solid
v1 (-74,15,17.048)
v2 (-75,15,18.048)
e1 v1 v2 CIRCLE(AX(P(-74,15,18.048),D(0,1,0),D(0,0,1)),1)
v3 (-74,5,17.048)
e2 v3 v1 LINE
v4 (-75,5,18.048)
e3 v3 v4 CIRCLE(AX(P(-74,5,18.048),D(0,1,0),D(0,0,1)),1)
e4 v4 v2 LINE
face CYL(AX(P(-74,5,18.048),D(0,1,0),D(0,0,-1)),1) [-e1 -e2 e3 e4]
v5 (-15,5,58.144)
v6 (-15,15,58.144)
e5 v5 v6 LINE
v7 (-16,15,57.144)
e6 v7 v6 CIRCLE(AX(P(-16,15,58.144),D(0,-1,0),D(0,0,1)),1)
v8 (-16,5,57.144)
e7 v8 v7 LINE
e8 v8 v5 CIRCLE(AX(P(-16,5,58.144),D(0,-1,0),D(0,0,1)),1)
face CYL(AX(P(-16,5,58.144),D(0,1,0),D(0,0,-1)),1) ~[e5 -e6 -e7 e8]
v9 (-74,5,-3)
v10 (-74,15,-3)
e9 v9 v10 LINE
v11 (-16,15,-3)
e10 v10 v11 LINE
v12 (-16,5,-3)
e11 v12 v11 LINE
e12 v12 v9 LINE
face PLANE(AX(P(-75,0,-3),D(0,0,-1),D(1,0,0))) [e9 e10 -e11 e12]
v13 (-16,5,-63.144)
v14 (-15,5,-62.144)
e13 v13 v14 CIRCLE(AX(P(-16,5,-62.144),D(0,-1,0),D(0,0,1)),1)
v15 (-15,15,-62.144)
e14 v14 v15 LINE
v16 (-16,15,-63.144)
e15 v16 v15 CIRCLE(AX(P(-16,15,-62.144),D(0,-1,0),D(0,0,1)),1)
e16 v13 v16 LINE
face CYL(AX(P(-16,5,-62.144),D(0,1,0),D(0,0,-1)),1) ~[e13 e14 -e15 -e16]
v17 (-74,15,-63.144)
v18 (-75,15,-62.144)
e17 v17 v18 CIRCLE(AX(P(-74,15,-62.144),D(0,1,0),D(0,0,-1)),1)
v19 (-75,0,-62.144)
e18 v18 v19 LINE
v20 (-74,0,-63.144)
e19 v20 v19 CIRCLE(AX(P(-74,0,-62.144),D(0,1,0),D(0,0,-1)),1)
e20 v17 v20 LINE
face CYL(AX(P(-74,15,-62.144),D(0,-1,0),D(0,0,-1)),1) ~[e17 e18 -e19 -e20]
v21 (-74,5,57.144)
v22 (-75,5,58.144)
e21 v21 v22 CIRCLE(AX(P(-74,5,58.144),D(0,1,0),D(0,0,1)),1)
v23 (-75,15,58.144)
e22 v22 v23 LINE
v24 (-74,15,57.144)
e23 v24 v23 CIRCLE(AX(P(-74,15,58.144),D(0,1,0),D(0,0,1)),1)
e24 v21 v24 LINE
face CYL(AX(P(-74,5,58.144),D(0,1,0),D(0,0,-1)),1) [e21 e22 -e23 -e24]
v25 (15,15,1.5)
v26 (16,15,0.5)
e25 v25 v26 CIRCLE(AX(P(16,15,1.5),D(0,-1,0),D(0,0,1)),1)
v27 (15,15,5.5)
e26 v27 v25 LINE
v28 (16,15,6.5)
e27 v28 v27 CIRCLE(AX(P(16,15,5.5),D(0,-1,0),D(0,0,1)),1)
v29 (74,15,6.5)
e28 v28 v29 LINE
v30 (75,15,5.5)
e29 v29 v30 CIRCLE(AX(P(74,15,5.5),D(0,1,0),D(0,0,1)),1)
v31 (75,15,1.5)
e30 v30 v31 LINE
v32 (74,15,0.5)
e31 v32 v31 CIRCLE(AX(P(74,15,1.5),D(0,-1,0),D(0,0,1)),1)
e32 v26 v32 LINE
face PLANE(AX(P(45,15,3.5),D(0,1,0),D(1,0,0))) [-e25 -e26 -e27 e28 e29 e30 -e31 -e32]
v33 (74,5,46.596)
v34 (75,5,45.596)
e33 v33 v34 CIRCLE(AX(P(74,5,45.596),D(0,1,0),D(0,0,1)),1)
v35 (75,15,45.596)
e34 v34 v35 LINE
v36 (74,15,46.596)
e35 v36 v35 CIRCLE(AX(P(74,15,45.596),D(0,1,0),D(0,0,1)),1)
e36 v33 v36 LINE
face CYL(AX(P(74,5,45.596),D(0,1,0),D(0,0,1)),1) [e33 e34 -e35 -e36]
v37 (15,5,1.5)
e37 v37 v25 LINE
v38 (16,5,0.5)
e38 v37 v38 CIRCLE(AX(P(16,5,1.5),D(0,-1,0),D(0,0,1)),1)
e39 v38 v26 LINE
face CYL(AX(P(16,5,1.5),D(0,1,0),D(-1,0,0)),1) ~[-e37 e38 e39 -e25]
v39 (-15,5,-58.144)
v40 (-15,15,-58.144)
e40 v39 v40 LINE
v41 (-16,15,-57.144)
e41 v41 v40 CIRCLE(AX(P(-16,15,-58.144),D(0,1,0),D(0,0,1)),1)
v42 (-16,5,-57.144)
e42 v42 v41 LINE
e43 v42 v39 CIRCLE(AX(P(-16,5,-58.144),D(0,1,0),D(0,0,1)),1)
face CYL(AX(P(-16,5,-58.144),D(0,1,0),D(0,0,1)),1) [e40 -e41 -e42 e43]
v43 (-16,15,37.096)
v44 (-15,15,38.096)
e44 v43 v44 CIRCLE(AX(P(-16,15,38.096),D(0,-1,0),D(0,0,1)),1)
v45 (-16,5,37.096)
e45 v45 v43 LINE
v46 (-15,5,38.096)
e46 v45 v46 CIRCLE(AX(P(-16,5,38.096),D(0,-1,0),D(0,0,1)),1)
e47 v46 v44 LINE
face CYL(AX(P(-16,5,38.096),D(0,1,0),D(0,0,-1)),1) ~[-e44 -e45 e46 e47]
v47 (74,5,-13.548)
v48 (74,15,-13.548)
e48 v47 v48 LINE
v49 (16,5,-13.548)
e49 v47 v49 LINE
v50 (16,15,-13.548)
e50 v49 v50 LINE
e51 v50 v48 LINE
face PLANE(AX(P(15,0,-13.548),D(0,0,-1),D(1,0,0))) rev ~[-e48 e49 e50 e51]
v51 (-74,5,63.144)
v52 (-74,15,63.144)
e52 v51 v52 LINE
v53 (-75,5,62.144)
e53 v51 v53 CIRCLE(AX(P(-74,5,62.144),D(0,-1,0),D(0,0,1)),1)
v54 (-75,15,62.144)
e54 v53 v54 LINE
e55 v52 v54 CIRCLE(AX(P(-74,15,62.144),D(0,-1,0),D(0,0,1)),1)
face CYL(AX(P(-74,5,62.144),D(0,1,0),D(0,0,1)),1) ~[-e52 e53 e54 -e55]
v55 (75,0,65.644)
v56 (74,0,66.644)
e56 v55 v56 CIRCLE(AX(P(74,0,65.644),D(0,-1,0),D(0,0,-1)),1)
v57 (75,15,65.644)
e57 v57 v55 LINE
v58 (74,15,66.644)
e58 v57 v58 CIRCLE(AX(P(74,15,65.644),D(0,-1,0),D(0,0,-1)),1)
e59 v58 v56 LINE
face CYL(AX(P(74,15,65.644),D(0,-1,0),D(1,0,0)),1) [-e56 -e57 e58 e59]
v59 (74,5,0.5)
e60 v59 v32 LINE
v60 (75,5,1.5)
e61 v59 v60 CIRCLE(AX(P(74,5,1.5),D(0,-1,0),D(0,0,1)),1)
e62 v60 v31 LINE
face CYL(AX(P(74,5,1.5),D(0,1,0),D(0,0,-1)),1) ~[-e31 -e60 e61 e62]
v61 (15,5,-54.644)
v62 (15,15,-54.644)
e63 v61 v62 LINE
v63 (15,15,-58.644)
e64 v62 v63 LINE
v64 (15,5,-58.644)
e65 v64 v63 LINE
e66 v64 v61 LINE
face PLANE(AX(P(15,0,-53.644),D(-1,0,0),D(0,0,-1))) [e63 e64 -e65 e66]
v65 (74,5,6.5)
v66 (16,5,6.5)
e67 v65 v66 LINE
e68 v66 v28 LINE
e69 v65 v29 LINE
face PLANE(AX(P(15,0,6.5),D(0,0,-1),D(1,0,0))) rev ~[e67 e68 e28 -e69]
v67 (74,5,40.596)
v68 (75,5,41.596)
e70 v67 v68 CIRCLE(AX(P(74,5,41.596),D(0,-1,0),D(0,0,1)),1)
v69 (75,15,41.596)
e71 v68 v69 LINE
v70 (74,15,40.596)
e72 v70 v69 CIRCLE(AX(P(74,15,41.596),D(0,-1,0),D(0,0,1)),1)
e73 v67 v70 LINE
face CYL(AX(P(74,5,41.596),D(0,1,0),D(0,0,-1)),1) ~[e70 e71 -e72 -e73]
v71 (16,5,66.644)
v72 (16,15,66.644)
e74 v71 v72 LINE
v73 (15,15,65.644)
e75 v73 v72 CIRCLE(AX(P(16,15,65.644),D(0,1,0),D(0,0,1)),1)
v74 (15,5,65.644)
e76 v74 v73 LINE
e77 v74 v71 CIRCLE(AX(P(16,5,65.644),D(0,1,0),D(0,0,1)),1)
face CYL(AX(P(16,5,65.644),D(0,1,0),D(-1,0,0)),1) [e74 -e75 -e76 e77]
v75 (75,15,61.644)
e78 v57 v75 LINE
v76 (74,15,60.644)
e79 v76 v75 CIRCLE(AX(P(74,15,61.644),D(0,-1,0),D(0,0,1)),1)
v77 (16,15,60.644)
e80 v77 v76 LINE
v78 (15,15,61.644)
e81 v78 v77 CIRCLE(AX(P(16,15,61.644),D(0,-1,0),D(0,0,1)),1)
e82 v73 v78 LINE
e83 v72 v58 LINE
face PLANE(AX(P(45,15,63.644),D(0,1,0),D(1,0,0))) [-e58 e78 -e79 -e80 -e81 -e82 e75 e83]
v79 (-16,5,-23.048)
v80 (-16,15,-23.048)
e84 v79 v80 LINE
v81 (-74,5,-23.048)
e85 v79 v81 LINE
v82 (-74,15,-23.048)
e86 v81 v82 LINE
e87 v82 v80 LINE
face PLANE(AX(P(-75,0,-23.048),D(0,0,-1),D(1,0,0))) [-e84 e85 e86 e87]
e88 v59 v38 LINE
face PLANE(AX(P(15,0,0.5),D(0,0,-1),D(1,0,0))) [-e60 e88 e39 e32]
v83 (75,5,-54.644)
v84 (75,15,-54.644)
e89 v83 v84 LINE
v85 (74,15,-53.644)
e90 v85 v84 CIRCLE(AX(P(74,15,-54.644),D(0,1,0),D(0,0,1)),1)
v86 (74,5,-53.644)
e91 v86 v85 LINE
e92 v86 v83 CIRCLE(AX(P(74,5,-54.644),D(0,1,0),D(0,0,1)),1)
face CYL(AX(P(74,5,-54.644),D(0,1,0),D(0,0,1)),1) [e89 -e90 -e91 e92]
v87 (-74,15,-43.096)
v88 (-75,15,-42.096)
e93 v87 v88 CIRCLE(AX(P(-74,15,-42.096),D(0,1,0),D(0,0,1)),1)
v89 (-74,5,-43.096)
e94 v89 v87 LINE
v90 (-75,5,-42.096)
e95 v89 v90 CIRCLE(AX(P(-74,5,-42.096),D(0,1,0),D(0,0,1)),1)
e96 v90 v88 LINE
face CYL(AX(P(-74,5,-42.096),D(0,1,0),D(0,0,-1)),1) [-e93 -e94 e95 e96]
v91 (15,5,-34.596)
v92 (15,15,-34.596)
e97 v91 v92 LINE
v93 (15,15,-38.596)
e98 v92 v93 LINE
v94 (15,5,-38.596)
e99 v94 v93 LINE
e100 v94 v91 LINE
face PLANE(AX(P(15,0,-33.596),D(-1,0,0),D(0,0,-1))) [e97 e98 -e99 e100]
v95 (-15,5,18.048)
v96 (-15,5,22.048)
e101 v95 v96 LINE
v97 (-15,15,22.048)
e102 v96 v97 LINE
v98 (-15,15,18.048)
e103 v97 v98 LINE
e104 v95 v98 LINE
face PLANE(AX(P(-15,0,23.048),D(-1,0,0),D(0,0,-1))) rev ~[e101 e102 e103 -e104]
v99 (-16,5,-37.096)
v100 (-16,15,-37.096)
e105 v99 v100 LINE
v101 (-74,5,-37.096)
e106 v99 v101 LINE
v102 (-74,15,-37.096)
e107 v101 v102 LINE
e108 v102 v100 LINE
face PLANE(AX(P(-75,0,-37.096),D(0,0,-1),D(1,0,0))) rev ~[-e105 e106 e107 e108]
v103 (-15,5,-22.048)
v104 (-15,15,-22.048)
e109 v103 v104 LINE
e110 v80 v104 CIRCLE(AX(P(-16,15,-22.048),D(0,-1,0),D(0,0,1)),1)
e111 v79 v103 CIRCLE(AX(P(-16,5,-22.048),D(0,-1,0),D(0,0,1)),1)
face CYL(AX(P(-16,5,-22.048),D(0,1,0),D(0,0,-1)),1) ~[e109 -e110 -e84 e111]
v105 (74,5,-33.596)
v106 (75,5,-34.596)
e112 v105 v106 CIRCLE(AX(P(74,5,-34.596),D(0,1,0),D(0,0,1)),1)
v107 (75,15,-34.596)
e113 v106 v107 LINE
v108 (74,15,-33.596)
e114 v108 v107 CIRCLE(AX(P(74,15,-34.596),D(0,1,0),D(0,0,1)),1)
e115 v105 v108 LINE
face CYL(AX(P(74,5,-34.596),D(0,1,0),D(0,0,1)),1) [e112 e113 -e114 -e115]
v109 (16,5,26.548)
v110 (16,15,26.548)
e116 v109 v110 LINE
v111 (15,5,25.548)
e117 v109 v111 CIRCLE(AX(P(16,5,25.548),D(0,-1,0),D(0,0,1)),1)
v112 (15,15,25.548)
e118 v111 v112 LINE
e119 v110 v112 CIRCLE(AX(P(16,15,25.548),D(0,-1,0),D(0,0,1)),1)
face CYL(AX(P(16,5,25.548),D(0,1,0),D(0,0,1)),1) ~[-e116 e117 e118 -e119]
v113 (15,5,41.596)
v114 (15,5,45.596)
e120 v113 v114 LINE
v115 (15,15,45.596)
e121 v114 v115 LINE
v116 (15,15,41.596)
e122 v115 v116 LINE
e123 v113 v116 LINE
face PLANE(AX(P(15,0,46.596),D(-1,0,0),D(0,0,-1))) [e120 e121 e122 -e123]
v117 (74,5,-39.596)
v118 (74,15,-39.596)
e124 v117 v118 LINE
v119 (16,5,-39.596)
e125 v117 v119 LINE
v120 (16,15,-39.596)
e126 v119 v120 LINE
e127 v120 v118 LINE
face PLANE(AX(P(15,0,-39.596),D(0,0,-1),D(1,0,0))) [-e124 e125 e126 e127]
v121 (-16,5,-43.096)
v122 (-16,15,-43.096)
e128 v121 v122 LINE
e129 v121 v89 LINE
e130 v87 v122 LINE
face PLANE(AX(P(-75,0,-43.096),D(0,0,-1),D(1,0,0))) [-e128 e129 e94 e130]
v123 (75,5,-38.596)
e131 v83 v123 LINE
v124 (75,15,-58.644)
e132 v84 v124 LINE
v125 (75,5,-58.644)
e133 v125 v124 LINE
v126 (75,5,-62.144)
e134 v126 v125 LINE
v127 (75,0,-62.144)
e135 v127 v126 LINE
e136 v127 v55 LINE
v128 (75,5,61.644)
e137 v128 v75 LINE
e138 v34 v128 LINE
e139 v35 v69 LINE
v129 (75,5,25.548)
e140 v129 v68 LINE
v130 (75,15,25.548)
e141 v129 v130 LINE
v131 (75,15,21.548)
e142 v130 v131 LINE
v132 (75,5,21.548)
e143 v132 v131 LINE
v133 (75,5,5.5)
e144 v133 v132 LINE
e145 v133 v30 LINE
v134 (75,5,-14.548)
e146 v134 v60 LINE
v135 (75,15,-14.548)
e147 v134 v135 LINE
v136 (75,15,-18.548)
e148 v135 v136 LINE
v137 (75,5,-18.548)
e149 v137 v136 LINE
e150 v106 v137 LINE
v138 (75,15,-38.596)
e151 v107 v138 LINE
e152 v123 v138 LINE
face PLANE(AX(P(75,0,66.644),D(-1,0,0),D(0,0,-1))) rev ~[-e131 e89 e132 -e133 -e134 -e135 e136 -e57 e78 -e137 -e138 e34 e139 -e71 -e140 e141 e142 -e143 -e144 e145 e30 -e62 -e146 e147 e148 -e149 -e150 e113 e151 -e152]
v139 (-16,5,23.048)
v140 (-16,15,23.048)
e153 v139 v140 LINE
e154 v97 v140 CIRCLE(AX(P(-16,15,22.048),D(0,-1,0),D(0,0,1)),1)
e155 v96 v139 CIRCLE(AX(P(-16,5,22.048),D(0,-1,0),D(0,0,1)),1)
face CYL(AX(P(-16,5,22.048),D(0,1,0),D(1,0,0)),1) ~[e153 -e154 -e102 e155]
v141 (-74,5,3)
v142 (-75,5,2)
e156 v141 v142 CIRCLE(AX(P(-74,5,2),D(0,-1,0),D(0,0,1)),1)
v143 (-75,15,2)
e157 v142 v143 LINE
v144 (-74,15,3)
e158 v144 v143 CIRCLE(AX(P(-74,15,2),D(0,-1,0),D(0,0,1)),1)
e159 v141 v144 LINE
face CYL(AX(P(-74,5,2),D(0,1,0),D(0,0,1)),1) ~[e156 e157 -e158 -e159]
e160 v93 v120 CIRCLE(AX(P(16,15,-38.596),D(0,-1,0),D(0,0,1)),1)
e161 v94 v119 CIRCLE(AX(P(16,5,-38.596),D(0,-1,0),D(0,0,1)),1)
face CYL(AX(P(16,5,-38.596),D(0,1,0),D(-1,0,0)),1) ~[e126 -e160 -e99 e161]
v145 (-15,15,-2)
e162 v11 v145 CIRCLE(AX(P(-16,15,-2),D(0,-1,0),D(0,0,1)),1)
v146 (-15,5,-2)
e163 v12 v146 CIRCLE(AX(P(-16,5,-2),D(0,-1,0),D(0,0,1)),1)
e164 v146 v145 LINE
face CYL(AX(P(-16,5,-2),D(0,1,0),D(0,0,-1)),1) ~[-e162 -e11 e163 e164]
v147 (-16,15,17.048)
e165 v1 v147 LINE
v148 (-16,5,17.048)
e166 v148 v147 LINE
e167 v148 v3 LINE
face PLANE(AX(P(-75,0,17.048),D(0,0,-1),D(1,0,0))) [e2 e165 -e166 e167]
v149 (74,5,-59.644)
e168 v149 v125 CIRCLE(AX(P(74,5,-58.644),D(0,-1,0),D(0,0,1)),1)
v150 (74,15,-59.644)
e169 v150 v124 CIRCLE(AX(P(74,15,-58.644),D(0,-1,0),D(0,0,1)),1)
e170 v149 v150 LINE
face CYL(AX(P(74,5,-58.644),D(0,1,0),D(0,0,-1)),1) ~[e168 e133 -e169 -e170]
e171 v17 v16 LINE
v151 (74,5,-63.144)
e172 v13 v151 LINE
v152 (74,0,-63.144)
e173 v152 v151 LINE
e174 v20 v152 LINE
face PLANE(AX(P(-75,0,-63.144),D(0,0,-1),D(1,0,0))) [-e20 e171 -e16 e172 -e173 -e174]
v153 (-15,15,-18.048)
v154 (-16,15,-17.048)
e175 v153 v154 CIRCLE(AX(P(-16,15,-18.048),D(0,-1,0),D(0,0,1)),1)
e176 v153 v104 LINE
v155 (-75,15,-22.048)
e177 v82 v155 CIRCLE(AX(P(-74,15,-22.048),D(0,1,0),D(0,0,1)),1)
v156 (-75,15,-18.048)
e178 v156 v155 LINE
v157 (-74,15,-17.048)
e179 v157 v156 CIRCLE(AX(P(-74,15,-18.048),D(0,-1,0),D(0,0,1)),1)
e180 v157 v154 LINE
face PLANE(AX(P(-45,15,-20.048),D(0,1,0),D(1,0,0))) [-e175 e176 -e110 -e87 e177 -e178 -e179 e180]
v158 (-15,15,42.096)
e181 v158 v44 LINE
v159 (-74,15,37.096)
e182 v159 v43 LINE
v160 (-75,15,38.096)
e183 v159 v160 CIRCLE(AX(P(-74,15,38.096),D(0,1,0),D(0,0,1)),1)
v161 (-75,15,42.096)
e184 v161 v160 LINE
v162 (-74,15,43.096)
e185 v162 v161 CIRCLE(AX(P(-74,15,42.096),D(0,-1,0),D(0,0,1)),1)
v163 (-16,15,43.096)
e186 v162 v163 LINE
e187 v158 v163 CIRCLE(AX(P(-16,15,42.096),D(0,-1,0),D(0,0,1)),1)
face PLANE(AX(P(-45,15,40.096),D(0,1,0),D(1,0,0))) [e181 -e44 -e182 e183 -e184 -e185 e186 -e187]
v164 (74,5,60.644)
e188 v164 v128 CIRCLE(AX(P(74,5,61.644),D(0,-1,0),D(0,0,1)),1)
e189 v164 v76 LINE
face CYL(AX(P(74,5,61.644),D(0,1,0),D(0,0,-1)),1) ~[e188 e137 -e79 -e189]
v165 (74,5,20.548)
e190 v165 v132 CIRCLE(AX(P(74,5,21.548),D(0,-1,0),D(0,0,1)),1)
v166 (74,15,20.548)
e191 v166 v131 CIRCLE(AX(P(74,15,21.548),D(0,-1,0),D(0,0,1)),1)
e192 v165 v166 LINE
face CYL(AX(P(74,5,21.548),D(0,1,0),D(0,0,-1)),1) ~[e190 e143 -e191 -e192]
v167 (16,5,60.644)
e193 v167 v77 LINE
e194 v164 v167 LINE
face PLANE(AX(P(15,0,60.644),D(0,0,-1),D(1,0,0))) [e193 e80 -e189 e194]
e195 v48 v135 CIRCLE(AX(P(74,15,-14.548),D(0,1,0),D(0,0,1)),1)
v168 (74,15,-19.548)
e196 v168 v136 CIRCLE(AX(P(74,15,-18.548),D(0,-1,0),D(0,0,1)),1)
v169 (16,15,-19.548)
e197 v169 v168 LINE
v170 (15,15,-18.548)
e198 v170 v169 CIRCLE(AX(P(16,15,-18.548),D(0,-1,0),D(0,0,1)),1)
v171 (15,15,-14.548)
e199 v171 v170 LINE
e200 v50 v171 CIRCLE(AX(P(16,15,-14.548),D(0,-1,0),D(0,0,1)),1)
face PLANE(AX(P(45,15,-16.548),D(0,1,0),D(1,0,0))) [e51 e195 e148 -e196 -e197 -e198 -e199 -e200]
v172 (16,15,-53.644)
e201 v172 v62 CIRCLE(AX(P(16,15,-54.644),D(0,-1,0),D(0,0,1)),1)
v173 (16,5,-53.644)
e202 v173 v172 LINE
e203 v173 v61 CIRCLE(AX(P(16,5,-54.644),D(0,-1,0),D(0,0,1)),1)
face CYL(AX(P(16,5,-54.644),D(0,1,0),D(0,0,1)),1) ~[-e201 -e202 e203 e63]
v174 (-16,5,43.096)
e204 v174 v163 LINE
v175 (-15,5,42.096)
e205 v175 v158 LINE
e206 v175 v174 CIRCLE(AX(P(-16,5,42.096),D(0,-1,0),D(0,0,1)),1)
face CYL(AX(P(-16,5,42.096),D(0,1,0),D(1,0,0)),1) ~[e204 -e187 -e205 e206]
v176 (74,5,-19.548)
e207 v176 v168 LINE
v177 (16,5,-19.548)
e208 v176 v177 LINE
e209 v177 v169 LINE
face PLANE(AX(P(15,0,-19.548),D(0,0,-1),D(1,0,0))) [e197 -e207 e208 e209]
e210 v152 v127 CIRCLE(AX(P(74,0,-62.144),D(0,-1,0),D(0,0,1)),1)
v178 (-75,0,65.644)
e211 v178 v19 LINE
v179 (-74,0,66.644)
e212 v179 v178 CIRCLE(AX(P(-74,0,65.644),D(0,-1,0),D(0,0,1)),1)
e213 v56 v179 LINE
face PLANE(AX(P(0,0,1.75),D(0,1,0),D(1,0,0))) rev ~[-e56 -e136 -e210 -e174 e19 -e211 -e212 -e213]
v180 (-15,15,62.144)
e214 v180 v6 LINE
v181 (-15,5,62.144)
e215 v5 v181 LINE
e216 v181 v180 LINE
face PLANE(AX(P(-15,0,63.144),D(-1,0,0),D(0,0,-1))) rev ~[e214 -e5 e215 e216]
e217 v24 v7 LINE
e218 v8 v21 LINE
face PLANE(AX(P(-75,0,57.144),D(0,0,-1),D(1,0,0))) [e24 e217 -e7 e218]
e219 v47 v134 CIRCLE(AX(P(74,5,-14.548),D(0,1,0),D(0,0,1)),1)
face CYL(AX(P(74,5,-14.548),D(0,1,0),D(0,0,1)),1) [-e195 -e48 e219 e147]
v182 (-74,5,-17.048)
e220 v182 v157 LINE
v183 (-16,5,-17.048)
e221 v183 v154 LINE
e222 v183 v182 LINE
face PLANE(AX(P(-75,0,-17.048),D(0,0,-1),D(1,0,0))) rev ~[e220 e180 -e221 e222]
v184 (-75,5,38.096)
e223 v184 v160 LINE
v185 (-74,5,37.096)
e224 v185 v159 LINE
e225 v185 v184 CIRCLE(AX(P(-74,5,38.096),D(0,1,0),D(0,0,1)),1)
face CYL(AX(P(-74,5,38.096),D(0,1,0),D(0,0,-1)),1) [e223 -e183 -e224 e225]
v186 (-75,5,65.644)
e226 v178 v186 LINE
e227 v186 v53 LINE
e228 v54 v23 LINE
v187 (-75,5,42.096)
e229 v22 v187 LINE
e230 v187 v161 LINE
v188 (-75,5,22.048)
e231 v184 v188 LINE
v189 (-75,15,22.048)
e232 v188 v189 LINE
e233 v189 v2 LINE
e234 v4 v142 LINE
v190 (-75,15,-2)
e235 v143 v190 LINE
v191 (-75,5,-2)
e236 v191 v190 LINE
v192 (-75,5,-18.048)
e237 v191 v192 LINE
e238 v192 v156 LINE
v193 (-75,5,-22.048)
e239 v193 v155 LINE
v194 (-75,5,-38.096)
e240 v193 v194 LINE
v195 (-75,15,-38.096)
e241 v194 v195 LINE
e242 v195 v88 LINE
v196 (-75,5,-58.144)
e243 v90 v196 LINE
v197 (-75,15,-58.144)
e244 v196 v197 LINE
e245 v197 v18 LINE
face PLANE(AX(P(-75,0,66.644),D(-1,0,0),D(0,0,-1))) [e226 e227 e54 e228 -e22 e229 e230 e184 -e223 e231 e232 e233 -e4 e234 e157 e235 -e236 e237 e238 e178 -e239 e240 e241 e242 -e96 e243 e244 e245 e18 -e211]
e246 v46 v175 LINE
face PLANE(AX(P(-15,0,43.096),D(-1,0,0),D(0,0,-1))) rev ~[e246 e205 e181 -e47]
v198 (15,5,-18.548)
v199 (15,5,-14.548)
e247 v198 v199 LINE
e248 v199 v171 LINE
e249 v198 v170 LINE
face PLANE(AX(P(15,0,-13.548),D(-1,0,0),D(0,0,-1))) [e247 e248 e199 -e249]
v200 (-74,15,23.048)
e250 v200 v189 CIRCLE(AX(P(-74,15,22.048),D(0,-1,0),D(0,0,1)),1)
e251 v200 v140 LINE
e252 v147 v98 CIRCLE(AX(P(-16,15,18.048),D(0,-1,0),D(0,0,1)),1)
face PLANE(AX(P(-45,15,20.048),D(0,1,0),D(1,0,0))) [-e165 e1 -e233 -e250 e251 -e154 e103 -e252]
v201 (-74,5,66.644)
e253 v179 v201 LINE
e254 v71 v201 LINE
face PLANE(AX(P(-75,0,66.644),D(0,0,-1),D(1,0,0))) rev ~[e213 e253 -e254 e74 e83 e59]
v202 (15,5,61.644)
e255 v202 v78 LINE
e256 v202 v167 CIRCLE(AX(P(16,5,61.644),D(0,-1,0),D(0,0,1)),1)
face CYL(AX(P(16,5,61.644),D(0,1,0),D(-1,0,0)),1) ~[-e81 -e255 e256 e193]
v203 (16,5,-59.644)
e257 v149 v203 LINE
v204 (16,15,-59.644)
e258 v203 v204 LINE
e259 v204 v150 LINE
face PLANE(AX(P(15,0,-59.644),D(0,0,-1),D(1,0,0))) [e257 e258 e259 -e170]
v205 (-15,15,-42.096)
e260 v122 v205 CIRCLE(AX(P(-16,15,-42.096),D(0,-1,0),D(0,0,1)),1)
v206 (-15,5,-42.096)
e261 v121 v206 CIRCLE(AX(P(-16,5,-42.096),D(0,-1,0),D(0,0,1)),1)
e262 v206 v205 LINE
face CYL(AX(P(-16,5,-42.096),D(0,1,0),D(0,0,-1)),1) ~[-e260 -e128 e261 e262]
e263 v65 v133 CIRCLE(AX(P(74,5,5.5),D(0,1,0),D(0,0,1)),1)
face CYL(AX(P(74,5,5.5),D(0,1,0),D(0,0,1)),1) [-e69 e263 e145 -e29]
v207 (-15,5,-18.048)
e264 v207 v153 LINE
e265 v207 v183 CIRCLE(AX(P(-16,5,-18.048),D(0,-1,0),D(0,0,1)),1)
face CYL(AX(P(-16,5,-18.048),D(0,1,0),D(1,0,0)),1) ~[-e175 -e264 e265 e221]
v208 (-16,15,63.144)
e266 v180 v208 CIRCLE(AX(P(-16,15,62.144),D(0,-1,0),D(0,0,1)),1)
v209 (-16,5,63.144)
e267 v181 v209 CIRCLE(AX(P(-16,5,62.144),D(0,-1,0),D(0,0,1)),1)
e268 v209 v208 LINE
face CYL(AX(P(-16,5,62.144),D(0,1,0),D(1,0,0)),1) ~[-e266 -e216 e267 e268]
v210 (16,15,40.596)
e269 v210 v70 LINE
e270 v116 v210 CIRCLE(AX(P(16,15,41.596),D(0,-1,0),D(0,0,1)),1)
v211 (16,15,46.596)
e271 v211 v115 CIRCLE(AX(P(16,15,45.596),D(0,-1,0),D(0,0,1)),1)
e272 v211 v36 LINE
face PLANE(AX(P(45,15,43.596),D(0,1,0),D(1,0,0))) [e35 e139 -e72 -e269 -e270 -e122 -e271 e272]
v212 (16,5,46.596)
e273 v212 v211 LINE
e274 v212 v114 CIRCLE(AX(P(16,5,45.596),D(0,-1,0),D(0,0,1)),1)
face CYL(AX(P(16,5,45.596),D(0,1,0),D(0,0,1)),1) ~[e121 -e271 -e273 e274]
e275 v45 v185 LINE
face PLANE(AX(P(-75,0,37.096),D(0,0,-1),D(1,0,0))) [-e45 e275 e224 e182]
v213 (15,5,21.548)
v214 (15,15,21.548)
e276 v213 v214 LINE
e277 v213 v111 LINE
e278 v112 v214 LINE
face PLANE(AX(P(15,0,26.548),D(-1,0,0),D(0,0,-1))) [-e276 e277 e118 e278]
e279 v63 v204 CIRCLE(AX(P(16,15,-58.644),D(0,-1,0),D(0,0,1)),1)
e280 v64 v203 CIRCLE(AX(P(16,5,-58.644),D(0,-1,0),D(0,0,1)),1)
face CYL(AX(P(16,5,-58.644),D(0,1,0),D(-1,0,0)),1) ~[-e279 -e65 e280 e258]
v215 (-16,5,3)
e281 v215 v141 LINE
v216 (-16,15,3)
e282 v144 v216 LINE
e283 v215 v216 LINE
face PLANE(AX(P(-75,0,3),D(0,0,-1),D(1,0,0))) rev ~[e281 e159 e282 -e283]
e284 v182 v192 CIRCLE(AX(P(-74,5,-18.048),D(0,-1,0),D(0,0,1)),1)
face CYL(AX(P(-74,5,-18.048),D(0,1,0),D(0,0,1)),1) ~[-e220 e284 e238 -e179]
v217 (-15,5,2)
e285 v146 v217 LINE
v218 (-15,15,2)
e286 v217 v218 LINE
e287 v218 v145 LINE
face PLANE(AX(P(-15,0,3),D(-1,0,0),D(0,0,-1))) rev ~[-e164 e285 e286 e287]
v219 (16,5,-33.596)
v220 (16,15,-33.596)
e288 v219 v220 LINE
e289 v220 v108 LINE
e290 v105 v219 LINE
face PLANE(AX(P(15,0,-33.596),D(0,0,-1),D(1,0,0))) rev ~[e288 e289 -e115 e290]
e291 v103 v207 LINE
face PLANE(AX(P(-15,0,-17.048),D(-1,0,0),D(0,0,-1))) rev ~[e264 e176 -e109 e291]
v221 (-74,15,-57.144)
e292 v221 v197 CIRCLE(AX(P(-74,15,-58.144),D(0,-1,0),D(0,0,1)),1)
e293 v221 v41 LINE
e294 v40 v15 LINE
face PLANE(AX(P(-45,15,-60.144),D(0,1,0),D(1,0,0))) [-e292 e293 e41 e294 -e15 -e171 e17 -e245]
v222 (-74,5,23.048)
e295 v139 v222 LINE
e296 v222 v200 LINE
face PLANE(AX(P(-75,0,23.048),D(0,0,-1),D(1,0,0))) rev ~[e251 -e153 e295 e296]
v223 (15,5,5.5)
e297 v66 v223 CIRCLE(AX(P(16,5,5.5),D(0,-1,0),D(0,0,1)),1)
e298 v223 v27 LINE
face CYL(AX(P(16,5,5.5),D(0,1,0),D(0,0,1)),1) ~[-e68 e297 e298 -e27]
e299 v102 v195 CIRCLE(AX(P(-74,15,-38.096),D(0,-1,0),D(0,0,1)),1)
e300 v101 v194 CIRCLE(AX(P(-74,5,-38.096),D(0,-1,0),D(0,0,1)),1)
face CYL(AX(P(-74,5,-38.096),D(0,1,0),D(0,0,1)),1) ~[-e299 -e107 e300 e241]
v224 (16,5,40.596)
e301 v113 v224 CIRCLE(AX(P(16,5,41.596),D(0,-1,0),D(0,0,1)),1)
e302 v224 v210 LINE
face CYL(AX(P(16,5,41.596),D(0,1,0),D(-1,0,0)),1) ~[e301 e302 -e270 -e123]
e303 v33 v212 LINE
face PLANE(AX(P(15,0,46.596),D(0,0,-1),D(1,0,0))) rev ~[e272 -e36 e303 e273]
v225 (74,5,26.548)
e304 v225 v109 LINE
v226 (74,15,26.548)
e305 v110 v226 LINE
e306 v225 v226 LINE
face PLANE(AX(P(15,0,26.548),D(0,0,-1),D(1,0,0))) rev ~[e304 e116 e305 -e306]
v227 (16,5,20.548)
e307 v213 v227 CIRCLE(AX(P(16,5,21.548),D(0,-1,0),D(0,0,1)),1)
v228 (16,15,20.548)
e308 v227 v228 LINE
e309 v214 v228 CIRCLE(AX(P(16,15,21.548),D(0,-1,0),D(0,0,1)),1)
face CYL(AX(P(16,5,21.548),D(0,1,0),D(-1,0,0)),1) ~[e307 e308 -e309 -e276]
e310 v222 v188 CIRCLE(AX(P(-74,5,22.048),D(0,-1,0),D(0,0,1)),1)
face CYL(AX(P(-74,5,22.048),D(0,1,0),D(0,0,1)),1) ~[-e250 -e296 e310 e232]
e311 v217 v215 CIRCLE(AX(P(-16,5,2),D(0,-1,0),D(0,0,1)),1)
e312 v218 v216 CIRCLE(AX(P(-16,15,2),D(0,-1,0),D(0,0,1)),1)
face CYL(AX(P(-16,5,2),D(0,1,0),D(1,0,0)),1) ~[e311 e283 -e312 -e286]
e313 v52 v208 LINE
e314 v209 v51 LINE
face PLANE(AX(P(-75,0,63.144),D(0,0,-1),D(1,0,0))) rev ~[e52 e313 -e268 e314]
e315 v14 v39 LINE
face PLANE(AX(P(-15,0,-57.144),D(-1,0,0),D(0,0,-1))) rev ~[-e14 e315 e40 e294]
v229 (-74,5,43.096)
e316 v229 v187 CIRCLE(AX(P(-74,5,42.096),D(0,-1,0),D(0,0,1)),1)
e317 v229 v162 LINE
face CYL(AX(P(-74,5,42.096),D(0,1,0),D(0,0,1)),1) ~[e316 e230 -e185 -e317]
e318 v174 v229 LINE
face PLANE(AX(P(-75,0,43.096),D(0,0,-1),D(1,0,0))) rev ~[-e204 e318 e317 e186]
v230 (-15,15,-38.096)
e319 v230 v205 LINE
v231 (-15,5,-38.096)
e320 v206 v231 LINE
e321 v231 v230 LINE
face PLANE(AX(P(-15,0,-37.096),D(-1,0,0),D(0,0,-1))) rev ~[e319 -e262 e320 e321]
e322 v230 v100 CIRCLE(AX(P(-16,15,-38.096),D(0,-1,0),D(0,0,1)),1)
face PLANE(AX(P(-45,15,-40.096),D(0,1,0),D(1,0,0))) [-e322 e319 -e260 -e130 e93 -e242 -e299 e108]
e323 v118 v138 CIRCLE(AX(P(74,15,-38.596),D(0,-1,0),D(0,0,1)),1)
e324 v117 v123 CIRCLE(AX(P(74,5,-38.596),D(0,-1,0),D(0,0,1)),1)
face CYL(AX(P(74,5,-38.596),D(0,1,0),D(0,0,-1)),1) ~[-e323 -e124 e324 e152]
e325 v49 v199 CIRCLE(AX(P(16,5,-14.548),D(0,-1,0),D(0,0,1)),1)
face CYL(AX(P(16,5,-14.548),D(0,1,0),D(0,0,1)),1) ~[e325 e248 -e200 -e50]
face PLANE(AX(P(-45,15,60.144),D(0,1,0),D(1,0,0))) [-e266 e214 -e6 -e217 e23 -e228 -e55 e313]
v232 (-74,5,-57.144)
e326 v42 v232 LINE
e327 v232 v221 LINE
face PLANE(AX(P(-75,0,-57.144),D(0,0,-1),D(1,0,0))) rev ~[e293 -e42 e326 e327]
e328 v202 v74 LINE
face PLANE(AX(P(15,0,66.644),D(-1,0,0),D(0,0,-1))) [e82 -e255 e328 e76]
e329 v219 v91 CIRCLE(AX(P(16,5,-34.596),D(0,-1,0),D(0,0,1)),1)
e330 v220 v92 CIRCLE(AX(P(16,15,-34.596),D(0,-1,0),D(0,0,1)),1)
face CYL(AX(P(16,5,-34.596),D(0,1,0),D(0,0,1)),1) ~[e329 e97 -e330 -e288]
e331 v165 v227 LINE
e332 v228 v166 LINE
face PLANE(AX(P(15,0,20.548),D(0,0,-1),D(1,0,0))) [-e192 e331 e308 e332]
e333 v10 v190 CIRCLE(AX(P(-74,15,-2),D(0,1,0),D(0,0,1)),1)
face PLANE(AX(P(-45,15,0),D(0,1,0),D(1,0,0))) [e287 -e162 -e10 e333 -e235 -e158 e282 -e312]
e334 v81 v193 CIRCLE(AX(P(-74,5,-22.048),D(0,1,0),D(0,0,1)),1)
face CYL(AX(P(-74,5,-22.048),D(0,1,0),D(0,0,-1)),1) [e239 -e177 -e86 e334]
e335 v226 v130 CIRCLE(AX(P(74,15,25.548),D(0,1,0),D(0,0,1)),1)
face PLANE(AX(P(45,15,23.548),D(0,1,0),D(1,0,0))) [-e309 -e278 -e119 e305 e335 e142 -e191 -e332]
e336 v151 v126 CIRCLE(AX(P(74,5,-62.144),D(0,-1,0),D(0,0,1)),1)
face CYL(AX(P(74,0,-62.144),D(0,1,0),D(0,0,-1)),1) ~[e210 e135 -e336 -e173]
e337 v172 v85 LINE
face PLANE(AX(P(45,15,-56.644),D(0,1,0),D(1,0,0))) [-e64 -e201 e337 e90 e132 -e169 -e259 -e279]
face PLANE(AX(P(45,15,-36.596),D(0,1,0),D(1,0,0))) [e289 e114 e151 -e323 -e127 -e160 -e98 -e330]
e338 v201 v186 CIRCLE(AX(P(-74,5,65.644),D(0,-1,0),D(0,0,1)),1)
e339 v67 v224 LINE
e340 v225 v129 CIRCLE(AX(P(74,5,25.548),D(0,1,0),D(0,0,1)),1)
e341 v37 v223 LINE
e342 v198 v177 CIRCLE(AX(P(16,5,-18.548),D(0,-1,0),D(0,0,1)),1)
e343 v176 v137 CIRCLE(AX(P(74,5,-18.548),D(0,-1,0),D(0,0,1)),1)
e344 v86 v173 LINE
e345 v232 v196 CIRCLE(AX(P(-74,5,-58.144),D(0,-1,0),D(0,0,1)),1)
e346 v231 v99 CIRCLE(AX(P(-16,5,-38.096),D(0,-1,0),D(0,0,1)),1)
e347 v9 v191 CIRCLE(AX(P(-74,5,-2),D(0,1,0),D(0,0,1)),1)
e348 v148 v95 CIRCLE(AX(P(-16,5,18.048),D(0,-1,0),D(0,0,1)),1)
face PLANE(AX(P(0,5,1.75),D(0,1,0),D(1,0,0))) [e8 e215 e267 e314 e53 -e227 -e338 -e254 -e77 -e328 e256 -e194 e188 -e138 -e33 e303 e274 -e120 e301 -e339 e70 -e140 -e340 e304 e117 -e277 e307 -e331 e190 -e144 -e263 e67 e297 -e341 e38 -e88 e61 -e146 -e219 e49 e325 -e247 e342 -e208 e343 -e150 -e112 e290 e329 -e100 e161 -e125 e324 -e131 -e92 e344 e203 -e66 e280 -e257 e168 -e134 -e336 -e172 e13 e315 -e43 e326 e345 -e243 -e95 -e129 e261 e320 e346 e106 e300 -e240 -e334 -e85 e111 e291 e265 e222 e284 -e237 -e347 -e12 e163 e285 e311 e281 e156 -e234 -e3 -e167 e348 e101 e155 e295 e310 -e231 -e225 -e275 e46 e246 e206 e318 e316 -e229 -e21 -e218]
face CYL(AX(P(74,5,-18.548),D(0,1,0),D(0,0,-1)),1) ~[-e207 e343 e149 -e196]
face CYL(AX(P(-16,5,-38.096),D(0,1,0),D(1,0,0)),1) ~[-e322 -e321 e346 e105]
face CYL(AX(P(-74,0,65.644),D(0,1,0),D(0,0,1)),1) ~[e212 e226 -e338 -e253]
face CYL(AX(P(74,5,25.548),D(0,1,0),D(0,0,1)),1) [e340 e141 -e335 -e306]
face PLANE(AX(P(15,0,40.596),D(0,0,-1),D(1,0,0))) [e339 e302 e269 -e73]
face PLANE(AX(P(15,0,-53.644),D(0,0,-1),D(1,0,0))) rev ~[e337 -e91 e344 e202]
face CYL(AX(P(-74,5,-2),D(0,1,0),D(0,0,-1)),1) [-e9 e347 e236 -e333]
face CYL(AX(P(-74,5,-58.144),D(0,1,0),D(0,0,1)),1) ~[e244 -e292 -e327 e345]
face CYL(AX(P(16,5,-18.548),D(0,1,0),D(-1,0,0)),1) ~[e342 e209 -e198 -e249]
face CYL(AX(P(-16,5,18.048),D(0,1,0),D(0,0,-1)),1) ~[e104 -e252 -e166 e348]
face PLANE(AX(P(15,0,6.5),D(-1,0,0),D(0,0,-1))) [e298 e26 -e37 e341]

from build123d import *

# Parameters (mm, degrees)
SKETCH1_W           = 150
SKETCH1_H           = 129.788
BOSS_EXTRUDE1_DEPTH = 5
SKETCH1_3_W         = 60
SKETCH1_3_H         = 6
BOSS_EXTRUDE2_DEPTH = 15
FILLET1_R           = 1


with BuildPart() as part:
    # Sketch1 → Boss-Extrude1 (new body)
    with BuildSketch(Plane(origin=(0, 0, 0), x_dir=(1, 0, 0), z_dir=(0, 1, 0))):
        with Locations((0, -1.75)):
            Rectangle(SKETCH1_W, SKETCH1_H)
    extrude(amount=BOSS_EXTRUDE1_DEPTH)

    # Sketch1_3 → Boss-Extrude2 (add)
    with BuildSketch(Plane(origin=(0, 0, 0), x_dir=(1, 0, 0), z_dir=(0, 1, 0))):
        with Locations((-45, 60.144)):
            Rectangle(SKETCH1_3_W, SKETCH1_3_H)
        with Locations((-45, 40.096)):
            Rectangle(SKETCH1_3_W, SKETCH1_3_H)
        with Locations((-45, 20.048)):
            Rectangle(SKETCH1_3_W, SKETCH1_3_H)
        with Locations((-45, 0)):
            Rectangle(SKETCH1_3_W, SKETCH1_3_H)
        with Locations((45, 56.644)):
            Rectangle(SKETCH1_3_W, SKETCH1_3_H)
        with Locations((45, 36.596)):
            Rectangle(SKETCH1_3_W, SKETCH1_3_H)
        with Locations((45, 16.548)):
            Rectangle(SKETCH1_3_W, SKETCH1_3_H)
        with Locations((45, -3.5)):
            Rectangle(SKETCH1_3_W, SKETCH1_3_H)
        with Locations((-45, -20.048)):
            Rectangle(SKETCH1_3_W, SKETCH1_3_H)
        with Locations((-45, -40.096)):
            Rectangle(SKETCH1_3_W, SKETCH1_3_H)
        with Locations((-45, -60.144)):
            Rectangle(SKETCH1_3_W, SKETCH1_3_H)
        with Locations((45, -23.548)):
            Rectangle(SKETCH1_3_W, SKETCH1_3_H)
        with Locations((45, -43.596)):
            Rectangle(SKETCH1_3_W, SKETCH1_3_H)
        with Locations((45, -63.644)):
            Rectangle(SKETCH1_3_W, SKETCH1_3_H)
    extrude(amount=BOSS_EXTRUDE2_DEPTH)

    # Fillet1
    fillet1_edges = [part.edges().sort_by_distance(p)[0] for p in [
        (-15, 10, -3),
        (-75, 10, -3),
        (-75, 10, 3),
        (-15, 10, 3),
        (-15, 10, -23.048),
        (-75, 10, -23.048),
        (-75, 10, -17.048),
        (-15, 10, -17.048),
        (75, 2.5, -63.144),
        (75, 7.5, 66.644),
        (-75, 2.5, 66.644),
        (-75, 7.5, -63.144),
        (-15, 10, -43.096),
        (-75, 10, -43.096),
        (-75, 10, -37.096),
        (-15, 10, -37.096),
        (-75, 10, -57.144),
        (-15, 10, -57.144),
        (-15, 10, -63.144),
        (75, 10, -59.644),
        (15, 10, -59.644),
        (15, 10, -53.644),
        (75, 10, -53.644),
        (75, 10, -39.596),
        (15, 10, -39.596),
        (15, 10, -33.596),
        (75, 10, -33.596),
        (75, 10, -19.548),
        (15, 10, -19.548),
        (15, 10, -13.548),
        (75, 10, -13.548),
        (75, 10, 0.5),
        (15, 10, 0.5),
        (15, 10, 6.5),
        (75, 10, 6.5),
        (75, 10, 20.548),
        (15, 10, 20.548),
        (15, 10, 26.548),
        (75, 10, 26.548),
        (75, 10, 40.596),
        (15, 10, 40.596),
        (15, 10, 46.596),
        (75, 10, 46.596),
        (75, 10, 60.644),
        (15, 10, 60.644),
        (15, 10, 66.644),
        (-15, 10, 57.144),
        (-75, 10, 57.144),
        (-75, 10, 63.144),
        (-15, 10, 63.144),
        (-15, 10, 37.096),
        (-75, 10, 37.096),
        (-75, 10, 43.096),
        (-15, 10, 43.096),
        (-15, 10, 17.048),
        (-75, 10, 17.048),
        (-75, 10, 23.048),
        (-15, 10, 23.048),
    ]]
    fillet(fillet1_edges, radius=FILLET1_R)


solid = part.part
